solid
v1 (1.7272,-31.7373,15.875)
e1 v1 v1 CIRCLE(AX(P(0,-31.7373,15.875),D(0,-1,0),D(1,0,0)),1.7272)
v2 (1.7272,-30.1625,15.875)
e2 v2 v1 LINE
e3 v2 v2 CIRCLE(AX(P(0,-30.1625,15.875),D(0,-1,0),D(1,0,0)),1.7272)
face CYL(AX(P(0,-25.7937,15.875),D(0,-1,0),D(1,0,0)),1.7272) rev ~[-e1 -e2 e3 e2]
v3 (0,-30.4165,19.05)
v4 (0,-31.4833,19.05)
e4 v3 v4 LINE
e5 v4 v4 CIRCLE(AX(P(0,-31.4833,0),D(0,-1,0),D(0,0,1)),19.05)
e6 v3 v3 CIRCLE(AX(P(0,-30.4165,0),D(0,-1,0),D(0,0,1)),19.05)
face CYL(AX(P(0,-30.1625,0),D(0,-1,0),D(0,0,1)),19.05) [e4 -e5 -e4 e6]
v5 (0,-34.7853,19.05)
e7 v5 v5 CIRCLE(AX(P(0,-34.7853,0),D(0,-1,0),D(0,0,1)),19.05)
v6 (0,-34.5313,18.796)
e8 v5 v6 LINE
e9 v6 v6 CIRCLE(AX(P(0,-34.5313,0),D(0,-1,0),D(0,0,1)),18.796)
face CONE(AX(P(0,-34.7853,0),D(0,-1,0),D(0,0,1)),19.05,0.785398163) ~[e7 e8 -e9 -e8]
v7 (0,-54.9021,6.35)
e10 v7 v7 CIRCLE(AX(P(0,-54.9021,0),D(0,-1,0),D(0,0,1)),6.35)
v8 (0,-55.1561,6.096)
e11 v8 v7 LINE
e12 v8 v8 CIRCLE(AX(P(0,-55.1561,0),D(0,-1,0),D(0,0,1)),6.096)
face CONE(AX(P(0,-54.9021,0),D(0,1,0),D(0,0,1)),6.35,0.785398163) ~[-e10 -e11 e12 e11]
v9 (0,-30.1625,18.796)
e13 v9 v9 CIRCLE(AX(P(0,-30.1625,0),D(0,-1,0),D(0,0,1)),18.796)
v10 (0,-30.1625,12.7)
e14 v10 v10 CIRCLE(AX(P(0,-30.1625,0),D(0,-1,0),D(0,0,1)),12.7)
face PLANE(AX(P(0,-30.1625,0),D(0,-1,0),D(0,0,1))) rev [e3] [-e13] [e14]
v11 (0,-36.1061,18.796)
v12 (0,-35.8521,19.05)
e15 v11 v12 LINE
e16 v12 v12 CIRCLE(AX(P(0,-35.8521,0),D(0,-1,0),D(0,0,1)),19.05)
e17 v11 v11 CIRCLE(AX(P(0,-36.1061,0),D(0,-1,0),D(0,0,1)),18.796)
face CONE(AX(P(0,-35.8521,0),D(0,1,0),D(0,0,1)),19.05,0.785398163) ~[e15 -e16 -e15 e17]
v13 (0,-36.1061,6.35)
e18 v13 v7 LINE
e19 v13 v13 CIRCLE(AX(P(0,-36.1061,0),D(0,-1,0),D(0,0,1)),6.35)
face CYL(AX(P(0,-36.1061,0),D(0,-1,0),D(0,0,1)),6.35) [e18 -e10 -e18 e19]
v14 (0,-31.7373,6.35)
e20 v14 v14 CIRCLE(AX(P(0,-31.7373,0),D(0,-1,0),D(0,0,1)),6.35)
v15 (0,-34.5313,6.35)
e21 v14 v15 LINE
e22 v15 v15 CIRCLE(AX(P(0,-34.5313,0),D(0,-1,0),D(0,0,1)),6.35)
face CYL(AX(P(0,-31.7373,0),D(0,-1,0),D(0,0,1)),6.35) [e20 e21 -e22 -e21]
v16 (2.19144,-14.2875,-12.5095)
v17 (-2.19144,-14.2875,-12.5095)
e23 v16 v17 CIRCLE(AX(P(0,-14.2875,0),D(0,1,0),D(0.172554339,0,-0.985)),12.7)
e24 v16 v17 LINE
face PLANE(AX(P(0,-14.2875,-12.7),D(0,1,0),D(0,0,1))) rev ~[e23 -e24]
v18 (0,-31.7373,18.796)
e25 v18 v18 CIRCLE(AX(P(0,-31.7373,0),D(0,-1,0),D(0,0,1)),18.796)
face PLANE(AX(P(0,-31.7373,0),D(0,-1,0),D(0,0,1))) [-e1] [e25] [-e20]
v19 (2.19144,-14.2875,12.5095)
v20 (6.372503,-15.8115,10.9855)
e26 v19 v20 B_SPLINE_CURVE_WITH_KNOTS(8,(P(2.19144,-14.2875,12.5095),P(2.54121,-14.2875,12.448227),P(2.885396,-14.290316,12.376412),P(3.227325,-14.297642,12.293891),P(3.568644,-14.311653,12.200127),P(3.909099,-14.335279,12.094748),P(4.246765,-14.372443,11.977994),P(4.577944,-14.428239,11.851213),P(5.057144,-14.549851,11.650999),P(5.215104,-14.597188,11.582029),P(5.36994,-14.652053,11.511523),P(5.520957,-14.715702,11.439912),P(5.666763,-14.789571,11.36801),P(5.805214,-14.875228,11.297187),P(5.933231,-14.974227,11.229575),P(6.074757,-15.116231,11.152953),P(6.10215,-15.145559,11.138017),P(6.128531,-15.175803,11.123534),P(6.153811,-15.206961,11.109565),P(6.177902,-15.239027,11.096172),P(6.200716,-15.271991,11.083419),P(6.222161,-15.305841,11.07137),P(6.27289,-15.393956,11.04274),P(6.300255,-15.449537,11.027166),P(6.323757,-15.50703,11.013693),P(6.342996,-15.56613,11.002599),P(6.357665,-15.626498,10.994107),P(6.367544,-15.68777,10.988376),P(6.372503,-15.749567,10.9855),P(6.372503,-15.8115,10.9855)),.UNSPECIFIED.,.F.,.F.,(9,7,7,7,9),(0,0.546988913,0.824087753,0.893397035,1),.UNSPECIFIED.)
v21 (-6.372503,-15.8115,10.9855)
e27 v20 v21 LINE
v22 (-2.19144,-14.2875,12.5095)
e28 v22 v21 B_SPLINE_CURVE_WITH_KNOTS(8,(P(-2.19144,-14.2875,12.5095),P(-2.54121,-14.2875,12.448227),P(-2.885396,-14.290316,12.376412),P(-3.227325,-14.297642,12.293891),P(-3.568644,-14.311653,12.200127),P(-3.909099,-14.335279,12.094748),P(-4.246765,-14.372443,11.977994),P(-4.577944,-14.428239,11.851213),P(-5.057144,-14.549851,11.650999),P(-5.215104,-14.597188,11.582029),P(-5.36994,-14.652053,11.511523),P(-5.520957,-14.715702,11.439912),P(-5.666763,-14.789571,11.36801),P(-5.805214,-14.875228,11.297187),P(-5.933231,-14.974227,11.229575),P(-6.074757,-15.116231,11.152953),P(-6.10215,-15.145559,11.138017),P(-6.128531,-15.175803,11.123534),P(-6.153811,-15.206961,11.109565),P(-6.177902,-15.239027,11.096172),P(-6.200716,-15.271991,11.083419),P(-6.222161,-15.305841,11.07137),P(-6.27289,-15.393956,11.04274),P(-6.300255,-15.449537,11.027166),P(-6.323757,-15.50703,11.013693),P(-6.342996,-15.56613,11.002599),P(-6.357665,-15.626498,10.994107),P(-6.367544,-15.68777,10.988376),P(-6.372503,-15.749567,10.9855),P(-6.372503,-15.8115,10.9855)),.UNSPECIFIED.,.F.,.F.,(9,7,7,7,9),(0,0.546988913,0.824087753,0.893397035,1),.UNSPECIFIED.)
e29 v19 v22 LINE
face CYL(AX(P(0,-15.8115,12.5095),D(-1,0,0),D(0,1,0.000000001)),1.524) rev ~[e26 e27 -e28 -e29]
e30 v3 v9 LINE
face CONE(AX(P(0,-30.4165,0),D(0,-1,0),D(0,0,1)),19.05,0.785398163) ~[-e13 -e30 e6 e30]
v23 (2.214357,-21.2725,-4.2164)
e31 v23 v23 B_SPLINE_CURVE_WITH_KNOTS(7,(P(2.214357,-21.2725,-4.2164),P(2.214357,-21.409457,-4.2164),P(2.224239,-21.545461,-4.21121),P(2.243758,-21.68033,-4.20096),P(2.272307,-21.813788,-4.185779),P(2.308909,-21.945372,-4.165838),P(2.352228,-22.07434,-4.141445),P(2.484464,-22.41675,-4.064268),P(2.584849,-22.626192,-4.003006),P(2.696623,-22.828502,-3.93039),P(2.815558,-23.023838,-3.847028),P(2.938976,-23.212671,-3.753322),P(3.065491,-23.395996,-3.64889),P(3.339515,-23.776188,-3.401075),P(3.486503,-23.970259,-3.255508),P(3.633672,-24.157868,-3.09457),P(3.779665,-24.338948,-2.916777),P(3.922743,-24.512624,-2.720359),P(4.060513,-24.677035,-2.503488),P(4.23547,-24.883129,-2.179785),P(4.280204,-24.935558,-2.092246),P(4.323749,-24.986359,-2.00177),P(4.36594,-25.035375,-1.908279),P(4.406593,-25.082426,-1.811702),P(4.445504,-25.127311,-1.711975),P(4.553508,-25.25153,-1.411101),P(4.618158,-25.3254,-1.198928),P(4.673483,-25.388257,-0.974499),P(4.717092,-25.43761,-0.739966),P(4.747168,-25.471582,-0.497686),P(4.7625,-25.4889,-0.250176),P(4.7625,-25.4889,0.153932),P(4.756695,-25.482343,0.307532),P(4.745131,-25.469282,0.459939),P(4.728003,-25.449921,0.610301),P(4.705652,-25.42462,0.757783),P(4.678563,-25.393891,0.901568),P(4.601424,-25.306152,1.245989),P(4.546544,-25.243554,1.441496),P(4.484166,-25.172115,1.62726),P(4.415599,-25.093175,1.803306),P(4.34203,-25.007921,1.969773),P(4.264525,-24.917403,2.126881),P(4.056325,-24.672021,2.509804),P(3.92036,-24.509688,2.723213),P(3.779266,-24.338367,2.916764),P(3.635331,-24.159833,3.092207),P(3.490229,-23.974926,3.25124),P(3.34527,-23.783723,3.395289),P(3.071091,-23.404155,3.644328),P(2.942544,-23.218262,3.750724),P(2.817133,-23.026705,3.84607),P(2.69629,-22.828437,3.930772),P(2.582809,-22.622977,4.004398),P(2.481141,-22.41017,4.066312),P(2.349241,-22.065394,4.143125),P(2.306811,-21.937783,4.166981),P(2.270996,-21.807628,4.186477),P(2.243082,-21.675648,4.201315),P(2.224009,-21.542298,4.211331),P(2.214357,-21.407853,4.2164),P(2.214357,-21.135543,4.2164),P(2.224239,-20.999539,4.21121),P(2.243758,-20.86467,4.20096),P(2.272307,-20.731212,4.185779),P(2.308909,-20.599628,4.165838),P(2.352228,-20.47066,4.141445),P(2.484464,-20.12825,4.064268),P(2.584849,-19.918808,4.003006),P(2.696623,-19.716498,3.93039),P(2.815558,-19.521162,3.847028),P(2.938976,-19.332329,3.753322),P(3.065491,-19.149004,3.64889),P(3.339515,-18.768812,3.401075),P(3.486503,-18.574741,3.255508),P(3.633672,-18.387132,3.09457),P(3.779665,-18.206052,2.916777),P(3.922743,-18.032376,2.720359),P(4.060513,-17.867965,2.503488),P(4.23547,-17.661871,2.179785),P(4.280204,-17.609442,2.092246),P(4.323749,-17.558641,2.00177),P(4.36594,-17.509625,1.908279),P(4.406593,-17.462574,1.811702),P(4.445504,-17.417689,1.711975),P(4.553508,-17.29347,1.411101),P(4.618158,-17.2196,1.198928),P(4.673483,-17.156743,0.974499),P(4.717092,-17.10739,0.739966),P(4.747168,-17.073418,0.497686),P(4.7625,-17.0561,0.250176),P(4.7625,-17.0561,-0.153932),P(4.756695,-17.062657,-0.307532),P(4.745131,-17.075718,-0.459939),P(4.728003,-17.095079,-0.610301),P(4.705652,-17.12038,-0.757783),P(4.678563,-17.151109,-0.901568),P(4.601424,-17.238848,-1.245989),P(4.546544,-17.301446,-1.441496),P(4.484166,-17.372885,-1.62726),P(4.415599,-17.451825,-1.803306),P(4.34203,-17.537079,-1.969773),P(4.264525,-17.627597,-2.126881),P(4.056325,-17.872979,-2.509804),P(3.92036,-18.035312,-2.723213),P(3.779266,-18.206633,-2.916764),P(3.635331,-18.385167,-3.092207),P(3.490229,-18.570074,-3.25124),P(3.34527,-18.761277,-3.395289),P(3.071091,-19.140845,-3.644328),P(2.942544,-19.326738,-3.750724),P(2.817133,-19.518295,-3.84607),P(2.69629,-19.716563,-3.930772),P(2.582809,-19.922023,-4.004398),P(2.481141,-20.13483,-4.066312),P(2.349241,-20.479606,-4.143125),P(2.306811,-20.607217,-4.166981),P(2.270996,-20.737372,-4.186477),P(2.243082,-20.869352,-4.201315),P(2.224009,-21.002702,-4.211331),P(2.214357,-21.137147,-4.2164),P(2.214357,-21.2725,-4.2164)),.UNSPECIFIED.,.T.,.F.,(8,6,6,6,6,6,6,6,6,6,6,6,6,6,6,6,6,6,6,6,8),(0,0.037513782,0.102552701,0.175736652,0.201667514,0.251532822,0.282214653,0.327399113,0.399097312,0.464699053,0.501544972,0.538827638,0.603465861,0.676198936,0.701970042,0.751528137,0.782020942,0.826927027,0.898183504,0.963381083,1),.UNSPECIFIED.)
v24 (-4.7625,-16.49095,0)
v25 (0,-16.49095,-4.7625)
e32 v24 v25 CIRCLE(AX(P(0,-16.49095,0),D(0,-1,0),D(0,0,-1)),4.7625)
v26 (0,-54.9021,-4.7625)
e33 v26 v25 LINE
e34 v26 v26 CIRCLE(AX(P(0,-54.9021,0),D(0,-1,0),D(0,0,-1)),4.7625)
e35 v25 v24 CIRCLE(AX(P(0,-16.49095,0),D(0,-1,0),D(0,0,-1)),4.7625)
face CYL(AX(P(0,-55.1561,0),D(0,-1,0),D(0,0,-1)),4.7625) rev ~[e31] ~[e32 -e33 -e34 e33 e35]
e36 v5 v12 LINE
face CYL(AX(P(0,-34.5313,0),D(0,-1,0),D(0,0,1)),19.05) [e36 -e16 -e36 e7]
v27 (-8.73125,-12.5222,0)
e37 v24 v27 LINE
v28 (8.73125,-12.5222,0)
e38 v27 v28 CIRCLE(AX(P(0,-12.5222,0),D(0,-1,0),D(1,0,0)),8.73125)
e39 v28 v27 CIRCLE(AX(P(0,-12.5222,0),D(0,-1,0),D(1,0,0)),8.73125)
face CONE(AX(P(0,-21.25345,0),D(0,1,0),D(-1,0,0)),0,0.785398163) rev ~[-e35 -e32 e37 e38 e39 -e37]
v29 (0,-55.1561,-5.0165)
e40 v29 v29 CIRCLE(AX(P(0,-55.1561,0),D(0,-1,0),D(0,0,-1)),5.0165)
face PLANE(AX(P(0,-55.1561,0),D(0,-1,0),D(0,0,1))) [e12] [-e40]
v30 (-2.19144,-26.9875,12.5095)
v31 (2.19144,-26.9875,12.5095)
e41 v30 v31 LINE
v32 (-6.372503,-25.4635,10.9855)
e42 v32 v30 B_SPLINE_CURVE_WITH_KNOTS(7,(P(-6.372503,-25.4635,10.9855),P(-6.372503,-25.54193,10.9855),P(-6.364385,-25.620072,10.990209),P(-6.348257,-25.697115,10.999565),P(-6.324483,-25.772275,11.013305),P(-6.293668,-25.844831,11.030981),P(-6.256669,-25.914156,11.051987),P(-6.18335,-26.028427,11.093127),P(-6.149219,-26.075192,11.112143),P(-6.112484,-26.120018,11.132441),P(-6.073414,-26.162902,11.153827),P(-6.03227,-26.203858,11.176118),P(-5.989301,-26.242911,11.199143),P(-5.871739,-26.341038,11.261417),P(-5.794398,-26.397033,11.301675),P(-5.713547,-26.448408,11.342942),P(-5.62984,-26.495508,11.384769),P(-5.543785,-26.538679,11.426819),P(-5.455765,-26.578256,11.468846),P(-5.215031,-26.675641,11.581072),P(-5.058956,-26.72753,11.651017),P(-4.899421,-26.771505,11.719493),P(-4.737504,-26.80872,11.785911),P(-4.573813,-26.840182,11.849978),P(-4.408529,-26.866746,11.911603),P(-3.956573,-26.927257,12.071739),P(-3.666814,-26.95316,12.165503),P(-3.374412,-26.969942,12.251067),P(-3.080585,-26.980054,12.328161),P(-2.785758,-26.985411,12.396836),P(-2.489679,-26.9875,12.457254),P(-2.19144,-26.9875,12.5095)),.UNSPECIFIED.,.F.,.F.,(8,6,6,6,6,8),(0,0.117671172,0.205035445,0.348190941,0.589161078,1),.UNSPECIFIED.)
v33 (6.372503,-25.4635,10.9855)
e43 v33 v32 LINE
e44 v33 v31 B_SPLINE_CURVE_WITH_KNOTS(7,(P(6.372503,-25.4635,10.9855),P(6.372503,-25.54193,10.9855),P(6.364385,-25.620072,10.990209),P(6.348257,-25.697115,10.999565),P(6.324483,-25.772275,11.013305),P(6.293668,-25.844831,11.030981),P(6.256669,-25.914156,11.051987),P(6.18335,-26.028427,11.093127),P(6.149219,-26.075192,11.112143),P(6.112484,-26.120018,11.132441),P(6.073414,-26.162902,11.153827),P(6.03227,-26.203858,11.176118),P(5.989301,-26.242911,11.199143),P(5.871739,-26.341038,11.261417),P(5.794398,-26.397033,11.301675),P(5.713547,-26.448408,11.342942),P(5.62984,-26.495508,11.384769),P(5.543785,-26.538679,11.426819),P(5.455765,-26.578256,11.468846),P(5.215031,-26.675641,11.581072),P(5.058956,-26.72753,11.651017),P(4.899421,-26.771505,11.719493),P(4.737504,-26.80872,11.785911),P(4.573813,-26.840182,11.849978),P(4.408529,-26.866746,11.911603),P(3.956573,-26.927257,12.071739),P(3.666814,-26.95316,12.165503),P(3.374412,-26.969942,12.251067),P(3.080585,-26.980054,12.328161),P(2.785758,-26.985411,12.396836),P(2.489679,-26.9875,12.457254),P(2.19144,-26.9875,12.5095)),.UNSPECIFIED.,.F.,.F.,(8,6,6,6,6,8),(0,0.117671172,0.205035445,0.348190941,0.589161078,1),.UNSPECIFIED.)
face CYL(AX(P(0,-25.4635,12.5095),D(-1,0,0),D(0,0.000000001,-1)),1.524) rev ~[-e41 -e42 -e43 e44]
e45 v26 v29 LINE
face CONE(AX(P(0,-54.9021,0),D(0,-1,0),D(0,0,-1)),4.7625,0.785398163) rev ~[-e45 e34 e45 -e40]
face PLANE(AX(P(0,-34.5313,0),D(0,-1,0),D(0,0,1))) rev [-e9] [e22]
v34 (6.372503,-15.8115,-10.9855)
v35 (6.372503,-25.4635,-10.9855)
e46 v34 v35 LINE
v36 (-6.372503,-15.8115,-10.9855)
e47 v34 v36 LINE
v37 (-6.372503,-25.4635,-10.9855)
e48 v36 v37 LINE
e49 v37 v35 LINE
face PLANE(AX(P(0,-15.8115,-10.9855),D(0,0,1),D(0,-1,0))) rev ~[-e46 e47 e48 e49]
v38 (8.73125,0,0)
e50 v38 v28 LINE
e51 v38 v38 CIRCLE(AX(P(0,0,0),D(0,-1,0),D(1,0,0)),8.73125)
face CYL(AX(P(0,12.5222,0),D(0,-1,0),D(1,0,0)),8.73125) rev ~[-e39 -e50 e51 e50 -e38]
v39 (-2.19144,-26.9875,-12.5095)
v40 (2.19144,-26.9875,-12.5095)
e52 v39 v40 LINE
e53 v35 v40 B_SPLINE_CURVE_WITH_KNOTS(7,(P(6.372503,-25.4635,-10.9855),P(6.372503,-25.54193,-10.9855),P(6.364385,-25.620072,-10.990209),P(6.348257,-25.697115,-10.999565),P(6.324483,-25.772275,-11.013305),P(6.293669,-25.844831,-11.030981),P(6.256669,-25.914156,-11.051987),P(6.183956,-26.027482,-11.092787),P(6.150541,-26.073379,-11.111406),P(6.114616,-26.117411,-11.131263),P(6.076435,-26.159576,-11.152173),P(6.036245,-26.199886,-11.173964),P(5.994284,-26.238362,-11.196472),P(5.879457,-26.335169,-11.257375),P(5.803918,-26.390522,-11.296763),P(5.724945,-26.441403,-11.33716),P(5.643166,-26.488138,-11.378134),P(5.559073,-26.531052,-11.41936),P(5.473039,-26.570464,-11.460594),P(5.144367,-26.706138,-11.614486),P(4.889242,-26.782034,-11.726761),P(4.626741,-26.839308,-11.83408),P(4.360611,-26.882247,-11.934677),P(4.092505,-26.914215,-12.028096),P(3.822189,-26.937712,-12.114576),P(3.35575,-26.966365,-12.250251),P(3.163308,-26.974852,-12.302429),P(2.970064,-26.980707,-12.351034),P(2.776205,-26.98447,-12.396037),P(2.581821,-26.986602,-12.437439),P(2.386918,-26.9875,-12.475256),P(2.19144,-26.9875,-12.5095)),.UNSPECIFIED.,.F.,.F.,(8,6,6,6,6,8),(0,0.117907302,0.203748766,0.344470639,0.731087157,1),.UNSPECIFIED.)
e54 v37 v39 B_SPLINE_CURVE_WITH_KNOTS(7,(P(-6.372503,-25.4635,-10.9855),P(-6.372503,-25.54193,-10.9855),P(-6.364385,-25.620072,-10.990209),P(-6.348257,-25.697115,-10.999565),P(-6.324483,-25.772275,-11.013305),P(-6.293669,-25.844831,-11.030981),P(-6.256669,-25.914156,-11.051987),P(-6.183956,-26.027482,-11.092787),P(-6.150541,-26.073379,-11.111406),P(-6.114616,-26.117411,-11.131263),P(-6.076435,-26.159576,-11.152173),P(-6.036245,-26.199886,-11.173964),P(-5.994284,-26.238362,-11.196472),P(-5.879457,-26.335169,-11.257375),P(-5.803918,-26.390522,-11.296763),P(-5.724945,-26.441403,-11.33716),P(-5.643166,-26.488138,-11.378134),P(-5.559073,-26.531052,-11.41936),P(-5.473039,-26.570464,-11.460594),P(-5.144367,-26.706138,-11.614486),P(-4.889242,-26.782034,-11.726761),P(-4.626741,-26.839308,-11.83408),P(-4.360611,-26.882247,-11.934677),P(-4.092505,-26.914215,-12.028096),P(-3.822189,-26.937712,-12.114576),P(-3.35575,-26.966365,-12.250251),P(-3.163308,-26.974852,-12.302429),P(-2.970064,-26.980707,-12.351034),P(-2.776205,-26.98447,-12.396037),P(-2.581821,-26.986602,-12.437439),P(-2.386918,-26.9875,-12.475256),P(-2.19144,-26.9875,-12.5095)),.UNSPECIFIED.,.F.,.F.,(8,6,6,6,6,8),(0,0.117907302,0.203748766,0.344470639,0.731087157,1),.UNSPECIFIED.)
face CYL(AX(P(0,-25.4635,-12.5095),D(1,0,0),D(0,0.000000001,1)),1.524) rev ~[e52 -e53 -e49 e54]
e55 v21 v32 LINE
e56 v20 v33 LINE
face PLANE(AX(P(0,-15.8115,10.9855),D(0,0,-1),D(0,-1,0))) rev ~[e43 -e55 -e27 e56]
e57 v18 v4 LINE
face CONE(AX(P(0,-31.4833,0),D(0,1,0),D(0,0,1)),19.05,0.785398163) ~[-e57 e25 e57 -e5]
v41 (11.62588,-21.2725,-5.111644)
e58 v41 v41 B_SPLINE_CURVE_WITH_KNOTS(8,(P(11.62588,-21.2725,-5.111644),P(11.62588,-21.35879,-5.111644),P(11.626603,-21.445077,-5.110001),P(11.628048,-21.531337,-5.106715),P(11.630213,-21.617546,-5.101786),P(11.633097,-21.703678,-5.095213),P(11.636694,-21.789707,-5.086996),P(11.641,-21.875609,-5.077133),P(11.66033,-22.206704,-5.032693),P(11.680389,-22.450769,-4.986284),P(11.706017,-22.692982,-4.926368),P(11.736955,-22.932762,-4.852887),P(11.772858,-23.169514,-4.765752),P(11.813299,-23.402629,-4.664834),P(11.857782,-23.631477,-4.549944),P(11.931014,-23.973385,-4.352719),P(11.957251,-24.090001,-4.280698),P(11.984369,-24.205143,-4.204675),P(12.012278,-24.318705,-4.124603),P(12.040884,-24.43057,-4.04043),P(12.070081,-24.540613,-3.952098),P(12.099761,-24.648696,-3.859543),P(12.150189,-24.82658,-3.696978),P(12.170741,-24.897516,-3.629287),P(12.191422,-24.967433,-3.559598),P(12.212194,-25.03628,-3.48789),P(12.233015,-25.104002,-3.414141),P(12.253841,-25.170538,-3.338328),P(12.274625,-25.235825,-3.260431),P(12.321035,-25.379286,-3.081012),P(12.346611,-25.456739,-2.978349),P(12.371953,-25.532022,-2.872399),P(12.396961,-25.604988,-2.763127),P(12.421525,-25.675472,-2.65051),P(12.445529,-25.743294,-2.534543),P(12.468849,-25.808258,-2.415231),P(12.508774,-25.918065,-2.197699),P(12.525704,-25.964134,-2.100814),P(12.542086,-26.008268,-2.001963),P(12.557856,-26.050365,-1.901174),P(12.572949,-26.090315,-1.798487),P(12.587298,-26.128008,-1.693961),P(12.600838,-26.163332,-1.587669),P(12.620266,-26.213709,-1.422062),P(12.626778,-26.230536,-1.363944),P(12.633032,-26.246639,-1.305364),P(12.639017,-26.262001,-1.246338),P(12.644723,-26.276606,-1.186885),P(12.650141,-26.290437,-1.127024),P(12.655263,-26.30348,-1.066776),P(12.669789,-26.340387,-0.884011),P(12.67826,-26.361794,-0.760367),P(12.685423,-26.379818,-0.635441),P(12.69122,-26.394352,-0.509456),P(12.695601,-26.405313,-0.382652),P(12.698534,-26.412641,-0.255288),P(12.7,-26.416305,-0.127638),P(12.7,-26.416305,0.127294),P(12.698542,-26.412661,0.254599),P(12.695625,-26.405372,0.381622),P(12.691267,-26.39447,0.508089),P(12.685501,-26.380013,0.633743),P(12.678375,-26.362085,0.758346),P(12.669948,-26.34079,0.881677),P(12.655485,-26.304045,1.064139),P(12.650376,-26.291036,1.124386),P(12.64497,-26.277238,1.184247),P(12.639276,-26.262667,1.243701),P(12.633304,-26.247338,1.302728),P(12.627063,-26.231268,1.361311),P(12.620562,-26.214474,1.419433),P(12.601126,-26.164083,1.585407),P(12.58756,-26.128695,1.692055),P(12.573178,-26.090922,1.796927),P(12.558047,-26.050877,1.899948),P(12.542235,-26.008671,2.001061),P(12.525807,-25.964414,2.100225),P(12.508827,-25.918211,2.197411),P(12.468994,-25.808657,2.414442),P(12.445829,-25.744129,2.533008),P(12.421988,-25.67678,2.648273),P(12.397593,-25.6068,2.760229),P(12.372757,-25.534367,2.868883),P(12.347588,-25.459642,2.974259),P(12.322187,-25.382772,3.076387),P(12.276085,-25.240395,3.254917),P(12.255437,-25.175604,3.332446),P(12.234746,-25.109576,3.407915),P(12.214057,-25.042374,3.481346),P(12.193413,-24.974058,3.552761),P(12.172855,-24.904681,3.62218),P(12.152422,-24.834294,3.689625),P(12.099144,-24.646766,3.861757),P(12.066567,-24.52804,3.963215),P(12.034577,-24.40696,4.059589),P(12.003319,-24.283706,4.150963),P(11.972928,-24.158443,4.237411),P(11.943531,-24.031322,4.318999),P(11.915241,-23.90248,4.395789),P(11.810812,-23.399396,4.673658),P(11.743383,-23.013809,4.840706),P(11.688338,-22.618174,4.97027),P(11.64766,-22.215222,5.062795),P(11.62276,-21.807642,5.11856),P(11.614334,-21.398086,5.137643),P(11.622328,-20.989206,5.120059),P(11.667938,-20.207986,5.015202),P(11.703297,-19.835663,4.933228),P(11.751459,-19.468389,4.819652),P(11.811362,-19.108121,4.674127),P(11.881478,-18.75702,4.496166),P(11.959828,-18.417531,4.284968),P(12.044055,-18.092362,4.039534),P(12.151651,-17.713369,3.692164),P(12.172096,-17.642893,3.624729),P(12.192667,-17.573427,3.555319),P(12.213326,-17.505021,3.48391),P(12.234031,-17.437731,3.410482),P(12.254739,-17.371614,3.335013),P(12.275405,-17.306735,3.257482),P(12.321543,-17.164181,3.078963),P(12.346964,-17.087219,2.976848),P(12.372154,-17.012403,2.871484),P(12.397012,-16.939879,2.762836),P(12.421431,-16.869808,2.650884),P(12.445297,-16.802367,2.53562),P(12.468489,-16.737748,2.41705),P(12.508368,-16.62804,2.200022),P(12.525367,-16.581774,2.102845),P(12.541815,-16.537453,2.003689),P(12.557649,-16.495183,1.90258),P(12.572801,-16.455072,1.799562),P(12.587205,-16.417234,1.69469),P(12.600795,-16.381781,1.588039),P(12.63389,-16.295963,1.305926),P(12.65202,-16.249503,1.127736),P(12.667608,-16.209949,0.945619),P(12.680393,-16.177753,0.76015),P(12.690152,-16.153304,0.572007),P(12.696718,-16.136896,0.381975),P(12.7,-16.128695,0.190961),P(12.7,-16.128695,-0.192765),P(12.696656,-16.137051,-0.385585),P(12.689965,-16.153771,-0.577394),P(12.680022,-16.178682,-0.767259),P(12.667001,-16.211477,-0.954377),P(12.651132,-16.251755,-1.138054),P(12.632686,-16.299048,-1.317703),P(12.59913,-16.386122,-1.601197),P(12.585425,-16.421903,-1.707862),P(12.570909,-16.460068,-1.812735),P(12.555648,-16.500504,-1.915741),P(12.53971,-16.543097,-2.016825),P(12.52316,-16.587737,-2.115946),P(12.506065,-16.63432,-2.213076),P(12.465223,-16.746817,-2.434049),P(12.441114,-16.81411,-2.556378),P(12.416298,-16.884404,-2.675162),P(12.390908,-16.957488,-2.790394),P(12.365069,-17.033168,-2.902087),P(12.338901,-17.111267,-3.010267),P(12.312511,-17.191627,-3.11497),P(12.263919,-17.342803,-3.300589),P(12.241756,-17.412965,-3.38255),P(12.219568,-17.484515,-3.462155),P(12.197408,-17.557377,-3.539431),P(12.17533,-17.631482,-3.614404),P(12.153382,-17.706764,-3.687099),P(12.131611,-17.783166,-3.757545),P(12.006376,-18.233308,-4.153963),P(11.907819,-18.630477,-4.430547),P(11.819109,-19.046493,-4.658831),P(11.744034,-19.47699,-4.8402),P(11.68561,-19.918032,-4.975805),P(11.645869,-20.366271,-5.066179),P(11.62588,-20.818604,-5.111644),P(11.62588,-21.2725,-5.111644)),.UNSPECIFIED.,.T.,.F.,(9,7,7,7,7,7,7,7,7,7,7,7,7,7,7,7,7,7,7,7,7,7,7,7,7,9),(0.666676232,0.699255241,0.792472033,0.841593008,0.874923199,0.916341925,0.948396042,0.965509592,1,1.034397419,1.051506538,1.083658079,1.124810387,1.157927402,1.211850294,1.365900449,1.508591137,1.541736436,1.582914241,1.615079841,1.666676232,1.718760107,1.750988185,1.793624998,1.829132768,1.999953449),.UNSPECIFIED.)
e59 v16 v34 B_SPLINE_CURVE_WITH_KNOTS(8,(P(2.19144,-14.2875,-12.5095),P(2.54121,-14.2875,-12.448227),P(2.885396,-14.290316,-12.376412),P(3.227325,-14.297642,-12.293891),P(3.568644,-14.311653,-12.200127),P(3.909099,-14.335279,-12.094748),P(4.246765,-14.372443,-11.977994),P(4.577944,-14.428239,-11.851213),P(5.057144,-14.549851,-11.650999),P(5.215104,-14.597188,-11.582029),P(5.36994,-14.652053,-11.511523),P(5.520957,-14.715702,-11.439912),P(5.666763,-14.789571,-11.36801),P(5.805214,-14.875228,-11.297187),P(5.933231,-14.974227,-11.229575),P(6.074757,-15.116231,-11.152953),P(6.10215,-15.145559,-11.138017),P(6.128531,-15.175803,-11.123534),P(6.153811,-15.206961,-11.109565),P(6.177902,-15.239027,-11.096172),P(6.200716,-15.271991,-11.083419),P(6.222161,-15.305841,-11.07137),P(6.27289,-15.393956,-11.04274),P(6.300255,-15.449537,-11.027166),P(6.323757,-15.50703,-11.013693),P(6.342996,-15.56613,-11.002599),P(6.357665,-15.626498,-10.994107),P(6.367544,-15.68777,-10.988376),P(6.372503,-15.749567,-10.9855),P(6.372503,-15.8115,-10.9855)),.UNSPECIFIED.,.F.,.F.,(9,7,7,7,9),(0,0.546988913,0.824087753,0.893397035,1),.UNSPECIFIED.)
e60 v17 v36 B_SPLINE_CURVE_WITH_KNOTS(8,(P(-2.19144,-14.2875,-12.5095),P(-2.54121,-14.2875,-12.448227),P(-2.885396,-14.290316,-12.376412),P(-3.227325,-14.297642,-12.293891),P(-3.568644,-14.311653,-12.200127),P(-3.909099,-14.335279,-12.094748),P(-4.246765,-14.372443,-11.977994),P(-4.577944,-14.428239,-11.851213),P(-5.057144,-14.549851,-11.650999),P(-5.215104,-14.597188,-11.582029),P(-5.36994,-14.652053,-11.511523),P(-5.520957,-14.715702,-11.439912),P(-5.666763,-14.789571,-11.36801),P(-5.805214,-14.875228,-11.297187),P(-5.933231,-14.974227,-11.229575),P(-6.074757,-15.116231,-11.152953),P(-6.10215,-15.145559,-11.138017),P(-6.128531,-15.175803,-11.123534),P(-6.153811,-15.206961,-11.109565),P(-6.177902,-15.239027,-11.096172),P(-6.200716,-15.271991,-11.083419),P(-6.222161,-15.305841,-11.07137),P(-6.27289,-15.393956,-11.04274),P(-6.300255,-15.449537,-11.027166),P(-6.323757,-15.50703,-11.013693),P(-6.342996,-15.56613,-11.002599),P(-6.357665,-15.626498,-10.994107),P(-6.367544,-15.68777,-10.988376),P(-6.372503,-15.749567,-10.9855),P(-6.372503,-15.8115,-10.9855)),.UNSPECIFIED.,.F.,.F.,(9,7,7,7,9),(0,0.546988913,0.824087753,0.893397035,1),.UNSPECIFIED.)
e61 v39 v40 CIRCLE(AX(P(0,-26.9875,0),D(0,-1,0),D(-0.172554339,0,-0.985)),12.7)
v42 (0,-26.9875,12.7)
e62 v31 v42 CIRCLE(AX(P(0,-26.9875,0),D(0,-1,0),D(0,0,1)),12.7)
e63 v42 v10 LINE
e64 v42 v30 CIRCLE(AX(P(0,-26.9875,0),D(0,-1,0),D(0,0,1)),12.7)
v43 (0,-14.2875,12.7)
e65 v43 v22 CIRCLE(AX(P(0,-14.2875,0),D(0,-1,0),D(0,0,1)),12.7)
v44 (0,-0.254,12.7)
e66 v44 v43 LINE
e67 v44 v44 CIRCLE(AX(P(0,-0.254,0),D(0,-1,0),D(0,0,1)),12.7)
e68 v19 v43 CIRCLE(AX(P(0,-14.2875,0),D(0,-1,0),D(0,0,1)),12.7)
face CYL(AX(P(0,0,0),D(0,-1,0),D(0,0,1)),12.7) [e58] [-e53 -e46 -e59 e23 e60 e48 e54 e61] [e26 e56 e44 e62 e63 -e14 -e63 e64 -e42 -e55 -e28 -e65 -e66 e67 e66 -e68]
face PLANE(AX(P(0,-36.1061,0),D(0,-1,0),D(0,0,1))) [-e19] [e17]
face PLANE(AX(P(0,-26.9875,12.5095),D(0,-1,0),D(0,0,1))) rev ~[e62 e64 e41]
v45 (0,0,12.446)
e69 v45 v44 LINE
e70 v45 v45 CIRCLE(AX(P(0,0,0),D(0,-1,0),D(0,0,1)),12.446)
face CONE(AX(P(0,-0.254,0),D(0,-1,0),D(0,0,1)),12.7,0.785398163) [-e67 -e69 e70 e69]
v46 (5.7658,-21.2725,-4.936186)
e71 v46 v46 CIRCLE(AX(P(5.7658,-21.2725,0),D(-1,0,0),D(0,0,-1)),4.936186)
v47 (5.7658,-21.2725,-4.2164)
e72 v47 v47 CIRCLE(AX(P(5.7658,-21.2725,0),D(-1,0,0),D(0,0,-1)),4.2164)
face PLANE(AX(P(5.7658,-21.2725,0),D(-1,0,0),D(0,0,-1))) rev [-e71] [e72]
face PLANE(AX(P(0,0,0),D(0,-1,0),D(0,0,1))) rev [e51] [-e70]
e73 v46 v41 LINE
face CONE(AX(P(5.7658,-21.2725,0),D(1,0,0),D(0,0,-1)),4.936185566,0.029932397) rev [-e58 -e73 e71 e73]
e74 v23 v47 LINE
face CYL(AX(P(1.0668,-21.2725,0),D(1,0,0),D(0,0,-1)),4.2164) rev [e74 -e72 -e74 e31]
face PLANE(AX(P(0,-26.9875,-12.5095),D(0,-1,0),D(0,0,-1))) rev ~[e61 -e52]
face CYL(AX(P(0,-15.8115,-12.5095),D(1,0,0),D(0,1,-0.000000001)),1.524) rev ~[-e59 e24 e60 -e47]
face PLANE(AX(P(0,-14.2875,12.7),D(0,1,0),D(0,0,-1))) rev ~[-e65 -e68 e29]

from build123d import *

# Parameters (mm, degrees)
F_3_4_16_TAPPED_HOLE1_D     = 17.4625
F_3_4_16_TAPPED_HOLE1_DEPTH = 12.5222
F_3_4_16_TAPPED_HOLE1_TIP   = 8.73125
SKETCH9_R                   = 4.7625
THRU_HOLE_DEPTH             = 62.384040094
WRENCH_FLATS_7_8_DEPTH      = 12.7
BREAK_ALL_EDGES_SIZE        = 0.254
F_8_32_TAPPED_HOLE1_D       = 3.4544
F_8_32_TAPPED_HOLE1_DEPTH   = 4.3688


with BuildPart() as part:
    # Sketch1 → Revolve1 (revolve)
    with BuildSketch(Plane(origin=(0, 0, 0), x_dir=(0, 0, -1), z_dir=(1, 0, 0))):
        Polygon((0, 0), (-12.7, 0), (-12.7, -30.1625), (-19.05, -30.1625), (-19.05, -31.7373), (-6.35, -31.7373), (-6.35, -34.5313), (-19.05, -34.5313), (-19.05, -36.1061), (-6.35, -36.1061), (-6.35, -55.1561), (0, -55.1561), align=None)
    revolve(axis=Axis((0, 0, 0), (0, -1, 0)))

    # Sketch5 → 1/8 NPT Tapped Hole1 (revolve, cut)
    with BuildSketch(Plane(origin=(12.7, -21.2725, 0), x_dir=(0, 0, -1), z_dir=(0, 1, 0))):
        Polygon((0, 0), (0, 14.166668714), (4.2164, 11.6332), (4.2164, 6.9342), (4.936185566, 6.9342), (5.1438048, 0), align=None)
    revolve(axis=Axis((19.05, -21.2725, 0), (-1, 0, 0)), mode=Mode.SUBTRACT)

    # 3/4-16 Tapped Hole1
    with Locations(Plane(origin=(0, 0, 0), x_dir=(-1, 0, 0), z_dir=(0, 1, 0))):
        with Locations((0, 0)):
            Hole(F_3_4_16_TAPPED_HOLE1_D / 2, depth=F_3_4_16_TAPPED_HOLE1_DEPTH)
            with Locations((0, 0, -(F_3_4_16_TAPPED_HOLE1_DEPTH + F_3_4_16_TAPPED_HOLE1_TIP / 2))):  # 90° drill point
                Cone(0, F_3_4_16_TAPPED_HOLE1_D / 2, F_3_4_16_TAPPED_HOLE1_TIP, mode=Mode.SUBTRACT)

    # Sketch9 → Thru hole (cut, through all)
    with BuildSketch(Plane.XZ.offset(55.1561)):
        with Locations(Location((0, 0, 0), (0, 0, 270))):
            Circle(SKETCH9_R)
    extrude(amount=-THRU_HOLE_DEPTH, mode=Mode.SUBTRACT)

    # Sketch10 → Wrench flats 7/8" (cut, symmetric)
    with BuildSketch(Plane(origin=(0, 0, 0), x_dir=(0, 0, -1), z_dir=(1, 0, 0))):
        with BuildLine():
            Line((-12.7, -14.2875), (-12.5095, -14.2875))
            ThreePointArc((-12.5095, -14.2875), (-11.431869265, -14.733869265), (-10.9855, -15.8115))
            Line((-10.9855, -15.8115), (-10.9855, -25.4635))
            ThreePointArc((-10.9855, -25.4635), (-11.431869265, -26.541130735), (-12.5095, -26.9875))
            Line((-12.5095, -26.9875), (-12.7, -26.9875))
            Line((-12.7, -26.9875), (-12.7, -14.2875))
        make_face()
        with BuildLine():
            Line((10.9855, -15.8115), (10.9855, -25.4635))
            ThreePointArc((10.9855, -25.4635), (11.431869265, -26.541130735), (12.5095, -26.9875))
            Line((12.5095, -26.9875), (12.7, -26.9875))
            Line((12.7, -26.9875), (12.7, -14.2875))
            Line((12.7, -14.2875), (12.5095, -14.2875))
            ThreePointArc((12.5095, -14.2875), (11.431869265, -14.733869265), (10.9855, -15.8115))
        make_face()
    extrude(amount=WRENCH_FLATS_7_8_DEPTH, both=True, mode=Mode.SUBTRACT)

    # Break all edges
    break_all_edges_edges = [part.edges().sort_by_distance(p)[0] for p in [
        (0, -34.5313, -19.05),
        (0, -36.1061, -19.05),
        (0, -55.1561, -6.35),
        (0, -55.1561, 4.7625),
        (0, 0, -12.7),
        (0, -30.1625, -19.05),
        (0, -31.7373, -19.05),
    ]]
    chamfer(break_all_edges_edges, length=BREAK_ALL_EDGES_SIZE)

    # #8-32 Tapped Hole1
    with Locations(Plane(origin=(0, -30.1625, 0), x_dir=(-1, 0, 0), z_dir=(0, 1, 0))):
        with Locations((0, 15.875)):
            Hole(F_8_32_TAPPED_HOLE1_D / 2, depth=F_8_32_TAPPED_HOLE1_DEPTH)


solid = part.part
